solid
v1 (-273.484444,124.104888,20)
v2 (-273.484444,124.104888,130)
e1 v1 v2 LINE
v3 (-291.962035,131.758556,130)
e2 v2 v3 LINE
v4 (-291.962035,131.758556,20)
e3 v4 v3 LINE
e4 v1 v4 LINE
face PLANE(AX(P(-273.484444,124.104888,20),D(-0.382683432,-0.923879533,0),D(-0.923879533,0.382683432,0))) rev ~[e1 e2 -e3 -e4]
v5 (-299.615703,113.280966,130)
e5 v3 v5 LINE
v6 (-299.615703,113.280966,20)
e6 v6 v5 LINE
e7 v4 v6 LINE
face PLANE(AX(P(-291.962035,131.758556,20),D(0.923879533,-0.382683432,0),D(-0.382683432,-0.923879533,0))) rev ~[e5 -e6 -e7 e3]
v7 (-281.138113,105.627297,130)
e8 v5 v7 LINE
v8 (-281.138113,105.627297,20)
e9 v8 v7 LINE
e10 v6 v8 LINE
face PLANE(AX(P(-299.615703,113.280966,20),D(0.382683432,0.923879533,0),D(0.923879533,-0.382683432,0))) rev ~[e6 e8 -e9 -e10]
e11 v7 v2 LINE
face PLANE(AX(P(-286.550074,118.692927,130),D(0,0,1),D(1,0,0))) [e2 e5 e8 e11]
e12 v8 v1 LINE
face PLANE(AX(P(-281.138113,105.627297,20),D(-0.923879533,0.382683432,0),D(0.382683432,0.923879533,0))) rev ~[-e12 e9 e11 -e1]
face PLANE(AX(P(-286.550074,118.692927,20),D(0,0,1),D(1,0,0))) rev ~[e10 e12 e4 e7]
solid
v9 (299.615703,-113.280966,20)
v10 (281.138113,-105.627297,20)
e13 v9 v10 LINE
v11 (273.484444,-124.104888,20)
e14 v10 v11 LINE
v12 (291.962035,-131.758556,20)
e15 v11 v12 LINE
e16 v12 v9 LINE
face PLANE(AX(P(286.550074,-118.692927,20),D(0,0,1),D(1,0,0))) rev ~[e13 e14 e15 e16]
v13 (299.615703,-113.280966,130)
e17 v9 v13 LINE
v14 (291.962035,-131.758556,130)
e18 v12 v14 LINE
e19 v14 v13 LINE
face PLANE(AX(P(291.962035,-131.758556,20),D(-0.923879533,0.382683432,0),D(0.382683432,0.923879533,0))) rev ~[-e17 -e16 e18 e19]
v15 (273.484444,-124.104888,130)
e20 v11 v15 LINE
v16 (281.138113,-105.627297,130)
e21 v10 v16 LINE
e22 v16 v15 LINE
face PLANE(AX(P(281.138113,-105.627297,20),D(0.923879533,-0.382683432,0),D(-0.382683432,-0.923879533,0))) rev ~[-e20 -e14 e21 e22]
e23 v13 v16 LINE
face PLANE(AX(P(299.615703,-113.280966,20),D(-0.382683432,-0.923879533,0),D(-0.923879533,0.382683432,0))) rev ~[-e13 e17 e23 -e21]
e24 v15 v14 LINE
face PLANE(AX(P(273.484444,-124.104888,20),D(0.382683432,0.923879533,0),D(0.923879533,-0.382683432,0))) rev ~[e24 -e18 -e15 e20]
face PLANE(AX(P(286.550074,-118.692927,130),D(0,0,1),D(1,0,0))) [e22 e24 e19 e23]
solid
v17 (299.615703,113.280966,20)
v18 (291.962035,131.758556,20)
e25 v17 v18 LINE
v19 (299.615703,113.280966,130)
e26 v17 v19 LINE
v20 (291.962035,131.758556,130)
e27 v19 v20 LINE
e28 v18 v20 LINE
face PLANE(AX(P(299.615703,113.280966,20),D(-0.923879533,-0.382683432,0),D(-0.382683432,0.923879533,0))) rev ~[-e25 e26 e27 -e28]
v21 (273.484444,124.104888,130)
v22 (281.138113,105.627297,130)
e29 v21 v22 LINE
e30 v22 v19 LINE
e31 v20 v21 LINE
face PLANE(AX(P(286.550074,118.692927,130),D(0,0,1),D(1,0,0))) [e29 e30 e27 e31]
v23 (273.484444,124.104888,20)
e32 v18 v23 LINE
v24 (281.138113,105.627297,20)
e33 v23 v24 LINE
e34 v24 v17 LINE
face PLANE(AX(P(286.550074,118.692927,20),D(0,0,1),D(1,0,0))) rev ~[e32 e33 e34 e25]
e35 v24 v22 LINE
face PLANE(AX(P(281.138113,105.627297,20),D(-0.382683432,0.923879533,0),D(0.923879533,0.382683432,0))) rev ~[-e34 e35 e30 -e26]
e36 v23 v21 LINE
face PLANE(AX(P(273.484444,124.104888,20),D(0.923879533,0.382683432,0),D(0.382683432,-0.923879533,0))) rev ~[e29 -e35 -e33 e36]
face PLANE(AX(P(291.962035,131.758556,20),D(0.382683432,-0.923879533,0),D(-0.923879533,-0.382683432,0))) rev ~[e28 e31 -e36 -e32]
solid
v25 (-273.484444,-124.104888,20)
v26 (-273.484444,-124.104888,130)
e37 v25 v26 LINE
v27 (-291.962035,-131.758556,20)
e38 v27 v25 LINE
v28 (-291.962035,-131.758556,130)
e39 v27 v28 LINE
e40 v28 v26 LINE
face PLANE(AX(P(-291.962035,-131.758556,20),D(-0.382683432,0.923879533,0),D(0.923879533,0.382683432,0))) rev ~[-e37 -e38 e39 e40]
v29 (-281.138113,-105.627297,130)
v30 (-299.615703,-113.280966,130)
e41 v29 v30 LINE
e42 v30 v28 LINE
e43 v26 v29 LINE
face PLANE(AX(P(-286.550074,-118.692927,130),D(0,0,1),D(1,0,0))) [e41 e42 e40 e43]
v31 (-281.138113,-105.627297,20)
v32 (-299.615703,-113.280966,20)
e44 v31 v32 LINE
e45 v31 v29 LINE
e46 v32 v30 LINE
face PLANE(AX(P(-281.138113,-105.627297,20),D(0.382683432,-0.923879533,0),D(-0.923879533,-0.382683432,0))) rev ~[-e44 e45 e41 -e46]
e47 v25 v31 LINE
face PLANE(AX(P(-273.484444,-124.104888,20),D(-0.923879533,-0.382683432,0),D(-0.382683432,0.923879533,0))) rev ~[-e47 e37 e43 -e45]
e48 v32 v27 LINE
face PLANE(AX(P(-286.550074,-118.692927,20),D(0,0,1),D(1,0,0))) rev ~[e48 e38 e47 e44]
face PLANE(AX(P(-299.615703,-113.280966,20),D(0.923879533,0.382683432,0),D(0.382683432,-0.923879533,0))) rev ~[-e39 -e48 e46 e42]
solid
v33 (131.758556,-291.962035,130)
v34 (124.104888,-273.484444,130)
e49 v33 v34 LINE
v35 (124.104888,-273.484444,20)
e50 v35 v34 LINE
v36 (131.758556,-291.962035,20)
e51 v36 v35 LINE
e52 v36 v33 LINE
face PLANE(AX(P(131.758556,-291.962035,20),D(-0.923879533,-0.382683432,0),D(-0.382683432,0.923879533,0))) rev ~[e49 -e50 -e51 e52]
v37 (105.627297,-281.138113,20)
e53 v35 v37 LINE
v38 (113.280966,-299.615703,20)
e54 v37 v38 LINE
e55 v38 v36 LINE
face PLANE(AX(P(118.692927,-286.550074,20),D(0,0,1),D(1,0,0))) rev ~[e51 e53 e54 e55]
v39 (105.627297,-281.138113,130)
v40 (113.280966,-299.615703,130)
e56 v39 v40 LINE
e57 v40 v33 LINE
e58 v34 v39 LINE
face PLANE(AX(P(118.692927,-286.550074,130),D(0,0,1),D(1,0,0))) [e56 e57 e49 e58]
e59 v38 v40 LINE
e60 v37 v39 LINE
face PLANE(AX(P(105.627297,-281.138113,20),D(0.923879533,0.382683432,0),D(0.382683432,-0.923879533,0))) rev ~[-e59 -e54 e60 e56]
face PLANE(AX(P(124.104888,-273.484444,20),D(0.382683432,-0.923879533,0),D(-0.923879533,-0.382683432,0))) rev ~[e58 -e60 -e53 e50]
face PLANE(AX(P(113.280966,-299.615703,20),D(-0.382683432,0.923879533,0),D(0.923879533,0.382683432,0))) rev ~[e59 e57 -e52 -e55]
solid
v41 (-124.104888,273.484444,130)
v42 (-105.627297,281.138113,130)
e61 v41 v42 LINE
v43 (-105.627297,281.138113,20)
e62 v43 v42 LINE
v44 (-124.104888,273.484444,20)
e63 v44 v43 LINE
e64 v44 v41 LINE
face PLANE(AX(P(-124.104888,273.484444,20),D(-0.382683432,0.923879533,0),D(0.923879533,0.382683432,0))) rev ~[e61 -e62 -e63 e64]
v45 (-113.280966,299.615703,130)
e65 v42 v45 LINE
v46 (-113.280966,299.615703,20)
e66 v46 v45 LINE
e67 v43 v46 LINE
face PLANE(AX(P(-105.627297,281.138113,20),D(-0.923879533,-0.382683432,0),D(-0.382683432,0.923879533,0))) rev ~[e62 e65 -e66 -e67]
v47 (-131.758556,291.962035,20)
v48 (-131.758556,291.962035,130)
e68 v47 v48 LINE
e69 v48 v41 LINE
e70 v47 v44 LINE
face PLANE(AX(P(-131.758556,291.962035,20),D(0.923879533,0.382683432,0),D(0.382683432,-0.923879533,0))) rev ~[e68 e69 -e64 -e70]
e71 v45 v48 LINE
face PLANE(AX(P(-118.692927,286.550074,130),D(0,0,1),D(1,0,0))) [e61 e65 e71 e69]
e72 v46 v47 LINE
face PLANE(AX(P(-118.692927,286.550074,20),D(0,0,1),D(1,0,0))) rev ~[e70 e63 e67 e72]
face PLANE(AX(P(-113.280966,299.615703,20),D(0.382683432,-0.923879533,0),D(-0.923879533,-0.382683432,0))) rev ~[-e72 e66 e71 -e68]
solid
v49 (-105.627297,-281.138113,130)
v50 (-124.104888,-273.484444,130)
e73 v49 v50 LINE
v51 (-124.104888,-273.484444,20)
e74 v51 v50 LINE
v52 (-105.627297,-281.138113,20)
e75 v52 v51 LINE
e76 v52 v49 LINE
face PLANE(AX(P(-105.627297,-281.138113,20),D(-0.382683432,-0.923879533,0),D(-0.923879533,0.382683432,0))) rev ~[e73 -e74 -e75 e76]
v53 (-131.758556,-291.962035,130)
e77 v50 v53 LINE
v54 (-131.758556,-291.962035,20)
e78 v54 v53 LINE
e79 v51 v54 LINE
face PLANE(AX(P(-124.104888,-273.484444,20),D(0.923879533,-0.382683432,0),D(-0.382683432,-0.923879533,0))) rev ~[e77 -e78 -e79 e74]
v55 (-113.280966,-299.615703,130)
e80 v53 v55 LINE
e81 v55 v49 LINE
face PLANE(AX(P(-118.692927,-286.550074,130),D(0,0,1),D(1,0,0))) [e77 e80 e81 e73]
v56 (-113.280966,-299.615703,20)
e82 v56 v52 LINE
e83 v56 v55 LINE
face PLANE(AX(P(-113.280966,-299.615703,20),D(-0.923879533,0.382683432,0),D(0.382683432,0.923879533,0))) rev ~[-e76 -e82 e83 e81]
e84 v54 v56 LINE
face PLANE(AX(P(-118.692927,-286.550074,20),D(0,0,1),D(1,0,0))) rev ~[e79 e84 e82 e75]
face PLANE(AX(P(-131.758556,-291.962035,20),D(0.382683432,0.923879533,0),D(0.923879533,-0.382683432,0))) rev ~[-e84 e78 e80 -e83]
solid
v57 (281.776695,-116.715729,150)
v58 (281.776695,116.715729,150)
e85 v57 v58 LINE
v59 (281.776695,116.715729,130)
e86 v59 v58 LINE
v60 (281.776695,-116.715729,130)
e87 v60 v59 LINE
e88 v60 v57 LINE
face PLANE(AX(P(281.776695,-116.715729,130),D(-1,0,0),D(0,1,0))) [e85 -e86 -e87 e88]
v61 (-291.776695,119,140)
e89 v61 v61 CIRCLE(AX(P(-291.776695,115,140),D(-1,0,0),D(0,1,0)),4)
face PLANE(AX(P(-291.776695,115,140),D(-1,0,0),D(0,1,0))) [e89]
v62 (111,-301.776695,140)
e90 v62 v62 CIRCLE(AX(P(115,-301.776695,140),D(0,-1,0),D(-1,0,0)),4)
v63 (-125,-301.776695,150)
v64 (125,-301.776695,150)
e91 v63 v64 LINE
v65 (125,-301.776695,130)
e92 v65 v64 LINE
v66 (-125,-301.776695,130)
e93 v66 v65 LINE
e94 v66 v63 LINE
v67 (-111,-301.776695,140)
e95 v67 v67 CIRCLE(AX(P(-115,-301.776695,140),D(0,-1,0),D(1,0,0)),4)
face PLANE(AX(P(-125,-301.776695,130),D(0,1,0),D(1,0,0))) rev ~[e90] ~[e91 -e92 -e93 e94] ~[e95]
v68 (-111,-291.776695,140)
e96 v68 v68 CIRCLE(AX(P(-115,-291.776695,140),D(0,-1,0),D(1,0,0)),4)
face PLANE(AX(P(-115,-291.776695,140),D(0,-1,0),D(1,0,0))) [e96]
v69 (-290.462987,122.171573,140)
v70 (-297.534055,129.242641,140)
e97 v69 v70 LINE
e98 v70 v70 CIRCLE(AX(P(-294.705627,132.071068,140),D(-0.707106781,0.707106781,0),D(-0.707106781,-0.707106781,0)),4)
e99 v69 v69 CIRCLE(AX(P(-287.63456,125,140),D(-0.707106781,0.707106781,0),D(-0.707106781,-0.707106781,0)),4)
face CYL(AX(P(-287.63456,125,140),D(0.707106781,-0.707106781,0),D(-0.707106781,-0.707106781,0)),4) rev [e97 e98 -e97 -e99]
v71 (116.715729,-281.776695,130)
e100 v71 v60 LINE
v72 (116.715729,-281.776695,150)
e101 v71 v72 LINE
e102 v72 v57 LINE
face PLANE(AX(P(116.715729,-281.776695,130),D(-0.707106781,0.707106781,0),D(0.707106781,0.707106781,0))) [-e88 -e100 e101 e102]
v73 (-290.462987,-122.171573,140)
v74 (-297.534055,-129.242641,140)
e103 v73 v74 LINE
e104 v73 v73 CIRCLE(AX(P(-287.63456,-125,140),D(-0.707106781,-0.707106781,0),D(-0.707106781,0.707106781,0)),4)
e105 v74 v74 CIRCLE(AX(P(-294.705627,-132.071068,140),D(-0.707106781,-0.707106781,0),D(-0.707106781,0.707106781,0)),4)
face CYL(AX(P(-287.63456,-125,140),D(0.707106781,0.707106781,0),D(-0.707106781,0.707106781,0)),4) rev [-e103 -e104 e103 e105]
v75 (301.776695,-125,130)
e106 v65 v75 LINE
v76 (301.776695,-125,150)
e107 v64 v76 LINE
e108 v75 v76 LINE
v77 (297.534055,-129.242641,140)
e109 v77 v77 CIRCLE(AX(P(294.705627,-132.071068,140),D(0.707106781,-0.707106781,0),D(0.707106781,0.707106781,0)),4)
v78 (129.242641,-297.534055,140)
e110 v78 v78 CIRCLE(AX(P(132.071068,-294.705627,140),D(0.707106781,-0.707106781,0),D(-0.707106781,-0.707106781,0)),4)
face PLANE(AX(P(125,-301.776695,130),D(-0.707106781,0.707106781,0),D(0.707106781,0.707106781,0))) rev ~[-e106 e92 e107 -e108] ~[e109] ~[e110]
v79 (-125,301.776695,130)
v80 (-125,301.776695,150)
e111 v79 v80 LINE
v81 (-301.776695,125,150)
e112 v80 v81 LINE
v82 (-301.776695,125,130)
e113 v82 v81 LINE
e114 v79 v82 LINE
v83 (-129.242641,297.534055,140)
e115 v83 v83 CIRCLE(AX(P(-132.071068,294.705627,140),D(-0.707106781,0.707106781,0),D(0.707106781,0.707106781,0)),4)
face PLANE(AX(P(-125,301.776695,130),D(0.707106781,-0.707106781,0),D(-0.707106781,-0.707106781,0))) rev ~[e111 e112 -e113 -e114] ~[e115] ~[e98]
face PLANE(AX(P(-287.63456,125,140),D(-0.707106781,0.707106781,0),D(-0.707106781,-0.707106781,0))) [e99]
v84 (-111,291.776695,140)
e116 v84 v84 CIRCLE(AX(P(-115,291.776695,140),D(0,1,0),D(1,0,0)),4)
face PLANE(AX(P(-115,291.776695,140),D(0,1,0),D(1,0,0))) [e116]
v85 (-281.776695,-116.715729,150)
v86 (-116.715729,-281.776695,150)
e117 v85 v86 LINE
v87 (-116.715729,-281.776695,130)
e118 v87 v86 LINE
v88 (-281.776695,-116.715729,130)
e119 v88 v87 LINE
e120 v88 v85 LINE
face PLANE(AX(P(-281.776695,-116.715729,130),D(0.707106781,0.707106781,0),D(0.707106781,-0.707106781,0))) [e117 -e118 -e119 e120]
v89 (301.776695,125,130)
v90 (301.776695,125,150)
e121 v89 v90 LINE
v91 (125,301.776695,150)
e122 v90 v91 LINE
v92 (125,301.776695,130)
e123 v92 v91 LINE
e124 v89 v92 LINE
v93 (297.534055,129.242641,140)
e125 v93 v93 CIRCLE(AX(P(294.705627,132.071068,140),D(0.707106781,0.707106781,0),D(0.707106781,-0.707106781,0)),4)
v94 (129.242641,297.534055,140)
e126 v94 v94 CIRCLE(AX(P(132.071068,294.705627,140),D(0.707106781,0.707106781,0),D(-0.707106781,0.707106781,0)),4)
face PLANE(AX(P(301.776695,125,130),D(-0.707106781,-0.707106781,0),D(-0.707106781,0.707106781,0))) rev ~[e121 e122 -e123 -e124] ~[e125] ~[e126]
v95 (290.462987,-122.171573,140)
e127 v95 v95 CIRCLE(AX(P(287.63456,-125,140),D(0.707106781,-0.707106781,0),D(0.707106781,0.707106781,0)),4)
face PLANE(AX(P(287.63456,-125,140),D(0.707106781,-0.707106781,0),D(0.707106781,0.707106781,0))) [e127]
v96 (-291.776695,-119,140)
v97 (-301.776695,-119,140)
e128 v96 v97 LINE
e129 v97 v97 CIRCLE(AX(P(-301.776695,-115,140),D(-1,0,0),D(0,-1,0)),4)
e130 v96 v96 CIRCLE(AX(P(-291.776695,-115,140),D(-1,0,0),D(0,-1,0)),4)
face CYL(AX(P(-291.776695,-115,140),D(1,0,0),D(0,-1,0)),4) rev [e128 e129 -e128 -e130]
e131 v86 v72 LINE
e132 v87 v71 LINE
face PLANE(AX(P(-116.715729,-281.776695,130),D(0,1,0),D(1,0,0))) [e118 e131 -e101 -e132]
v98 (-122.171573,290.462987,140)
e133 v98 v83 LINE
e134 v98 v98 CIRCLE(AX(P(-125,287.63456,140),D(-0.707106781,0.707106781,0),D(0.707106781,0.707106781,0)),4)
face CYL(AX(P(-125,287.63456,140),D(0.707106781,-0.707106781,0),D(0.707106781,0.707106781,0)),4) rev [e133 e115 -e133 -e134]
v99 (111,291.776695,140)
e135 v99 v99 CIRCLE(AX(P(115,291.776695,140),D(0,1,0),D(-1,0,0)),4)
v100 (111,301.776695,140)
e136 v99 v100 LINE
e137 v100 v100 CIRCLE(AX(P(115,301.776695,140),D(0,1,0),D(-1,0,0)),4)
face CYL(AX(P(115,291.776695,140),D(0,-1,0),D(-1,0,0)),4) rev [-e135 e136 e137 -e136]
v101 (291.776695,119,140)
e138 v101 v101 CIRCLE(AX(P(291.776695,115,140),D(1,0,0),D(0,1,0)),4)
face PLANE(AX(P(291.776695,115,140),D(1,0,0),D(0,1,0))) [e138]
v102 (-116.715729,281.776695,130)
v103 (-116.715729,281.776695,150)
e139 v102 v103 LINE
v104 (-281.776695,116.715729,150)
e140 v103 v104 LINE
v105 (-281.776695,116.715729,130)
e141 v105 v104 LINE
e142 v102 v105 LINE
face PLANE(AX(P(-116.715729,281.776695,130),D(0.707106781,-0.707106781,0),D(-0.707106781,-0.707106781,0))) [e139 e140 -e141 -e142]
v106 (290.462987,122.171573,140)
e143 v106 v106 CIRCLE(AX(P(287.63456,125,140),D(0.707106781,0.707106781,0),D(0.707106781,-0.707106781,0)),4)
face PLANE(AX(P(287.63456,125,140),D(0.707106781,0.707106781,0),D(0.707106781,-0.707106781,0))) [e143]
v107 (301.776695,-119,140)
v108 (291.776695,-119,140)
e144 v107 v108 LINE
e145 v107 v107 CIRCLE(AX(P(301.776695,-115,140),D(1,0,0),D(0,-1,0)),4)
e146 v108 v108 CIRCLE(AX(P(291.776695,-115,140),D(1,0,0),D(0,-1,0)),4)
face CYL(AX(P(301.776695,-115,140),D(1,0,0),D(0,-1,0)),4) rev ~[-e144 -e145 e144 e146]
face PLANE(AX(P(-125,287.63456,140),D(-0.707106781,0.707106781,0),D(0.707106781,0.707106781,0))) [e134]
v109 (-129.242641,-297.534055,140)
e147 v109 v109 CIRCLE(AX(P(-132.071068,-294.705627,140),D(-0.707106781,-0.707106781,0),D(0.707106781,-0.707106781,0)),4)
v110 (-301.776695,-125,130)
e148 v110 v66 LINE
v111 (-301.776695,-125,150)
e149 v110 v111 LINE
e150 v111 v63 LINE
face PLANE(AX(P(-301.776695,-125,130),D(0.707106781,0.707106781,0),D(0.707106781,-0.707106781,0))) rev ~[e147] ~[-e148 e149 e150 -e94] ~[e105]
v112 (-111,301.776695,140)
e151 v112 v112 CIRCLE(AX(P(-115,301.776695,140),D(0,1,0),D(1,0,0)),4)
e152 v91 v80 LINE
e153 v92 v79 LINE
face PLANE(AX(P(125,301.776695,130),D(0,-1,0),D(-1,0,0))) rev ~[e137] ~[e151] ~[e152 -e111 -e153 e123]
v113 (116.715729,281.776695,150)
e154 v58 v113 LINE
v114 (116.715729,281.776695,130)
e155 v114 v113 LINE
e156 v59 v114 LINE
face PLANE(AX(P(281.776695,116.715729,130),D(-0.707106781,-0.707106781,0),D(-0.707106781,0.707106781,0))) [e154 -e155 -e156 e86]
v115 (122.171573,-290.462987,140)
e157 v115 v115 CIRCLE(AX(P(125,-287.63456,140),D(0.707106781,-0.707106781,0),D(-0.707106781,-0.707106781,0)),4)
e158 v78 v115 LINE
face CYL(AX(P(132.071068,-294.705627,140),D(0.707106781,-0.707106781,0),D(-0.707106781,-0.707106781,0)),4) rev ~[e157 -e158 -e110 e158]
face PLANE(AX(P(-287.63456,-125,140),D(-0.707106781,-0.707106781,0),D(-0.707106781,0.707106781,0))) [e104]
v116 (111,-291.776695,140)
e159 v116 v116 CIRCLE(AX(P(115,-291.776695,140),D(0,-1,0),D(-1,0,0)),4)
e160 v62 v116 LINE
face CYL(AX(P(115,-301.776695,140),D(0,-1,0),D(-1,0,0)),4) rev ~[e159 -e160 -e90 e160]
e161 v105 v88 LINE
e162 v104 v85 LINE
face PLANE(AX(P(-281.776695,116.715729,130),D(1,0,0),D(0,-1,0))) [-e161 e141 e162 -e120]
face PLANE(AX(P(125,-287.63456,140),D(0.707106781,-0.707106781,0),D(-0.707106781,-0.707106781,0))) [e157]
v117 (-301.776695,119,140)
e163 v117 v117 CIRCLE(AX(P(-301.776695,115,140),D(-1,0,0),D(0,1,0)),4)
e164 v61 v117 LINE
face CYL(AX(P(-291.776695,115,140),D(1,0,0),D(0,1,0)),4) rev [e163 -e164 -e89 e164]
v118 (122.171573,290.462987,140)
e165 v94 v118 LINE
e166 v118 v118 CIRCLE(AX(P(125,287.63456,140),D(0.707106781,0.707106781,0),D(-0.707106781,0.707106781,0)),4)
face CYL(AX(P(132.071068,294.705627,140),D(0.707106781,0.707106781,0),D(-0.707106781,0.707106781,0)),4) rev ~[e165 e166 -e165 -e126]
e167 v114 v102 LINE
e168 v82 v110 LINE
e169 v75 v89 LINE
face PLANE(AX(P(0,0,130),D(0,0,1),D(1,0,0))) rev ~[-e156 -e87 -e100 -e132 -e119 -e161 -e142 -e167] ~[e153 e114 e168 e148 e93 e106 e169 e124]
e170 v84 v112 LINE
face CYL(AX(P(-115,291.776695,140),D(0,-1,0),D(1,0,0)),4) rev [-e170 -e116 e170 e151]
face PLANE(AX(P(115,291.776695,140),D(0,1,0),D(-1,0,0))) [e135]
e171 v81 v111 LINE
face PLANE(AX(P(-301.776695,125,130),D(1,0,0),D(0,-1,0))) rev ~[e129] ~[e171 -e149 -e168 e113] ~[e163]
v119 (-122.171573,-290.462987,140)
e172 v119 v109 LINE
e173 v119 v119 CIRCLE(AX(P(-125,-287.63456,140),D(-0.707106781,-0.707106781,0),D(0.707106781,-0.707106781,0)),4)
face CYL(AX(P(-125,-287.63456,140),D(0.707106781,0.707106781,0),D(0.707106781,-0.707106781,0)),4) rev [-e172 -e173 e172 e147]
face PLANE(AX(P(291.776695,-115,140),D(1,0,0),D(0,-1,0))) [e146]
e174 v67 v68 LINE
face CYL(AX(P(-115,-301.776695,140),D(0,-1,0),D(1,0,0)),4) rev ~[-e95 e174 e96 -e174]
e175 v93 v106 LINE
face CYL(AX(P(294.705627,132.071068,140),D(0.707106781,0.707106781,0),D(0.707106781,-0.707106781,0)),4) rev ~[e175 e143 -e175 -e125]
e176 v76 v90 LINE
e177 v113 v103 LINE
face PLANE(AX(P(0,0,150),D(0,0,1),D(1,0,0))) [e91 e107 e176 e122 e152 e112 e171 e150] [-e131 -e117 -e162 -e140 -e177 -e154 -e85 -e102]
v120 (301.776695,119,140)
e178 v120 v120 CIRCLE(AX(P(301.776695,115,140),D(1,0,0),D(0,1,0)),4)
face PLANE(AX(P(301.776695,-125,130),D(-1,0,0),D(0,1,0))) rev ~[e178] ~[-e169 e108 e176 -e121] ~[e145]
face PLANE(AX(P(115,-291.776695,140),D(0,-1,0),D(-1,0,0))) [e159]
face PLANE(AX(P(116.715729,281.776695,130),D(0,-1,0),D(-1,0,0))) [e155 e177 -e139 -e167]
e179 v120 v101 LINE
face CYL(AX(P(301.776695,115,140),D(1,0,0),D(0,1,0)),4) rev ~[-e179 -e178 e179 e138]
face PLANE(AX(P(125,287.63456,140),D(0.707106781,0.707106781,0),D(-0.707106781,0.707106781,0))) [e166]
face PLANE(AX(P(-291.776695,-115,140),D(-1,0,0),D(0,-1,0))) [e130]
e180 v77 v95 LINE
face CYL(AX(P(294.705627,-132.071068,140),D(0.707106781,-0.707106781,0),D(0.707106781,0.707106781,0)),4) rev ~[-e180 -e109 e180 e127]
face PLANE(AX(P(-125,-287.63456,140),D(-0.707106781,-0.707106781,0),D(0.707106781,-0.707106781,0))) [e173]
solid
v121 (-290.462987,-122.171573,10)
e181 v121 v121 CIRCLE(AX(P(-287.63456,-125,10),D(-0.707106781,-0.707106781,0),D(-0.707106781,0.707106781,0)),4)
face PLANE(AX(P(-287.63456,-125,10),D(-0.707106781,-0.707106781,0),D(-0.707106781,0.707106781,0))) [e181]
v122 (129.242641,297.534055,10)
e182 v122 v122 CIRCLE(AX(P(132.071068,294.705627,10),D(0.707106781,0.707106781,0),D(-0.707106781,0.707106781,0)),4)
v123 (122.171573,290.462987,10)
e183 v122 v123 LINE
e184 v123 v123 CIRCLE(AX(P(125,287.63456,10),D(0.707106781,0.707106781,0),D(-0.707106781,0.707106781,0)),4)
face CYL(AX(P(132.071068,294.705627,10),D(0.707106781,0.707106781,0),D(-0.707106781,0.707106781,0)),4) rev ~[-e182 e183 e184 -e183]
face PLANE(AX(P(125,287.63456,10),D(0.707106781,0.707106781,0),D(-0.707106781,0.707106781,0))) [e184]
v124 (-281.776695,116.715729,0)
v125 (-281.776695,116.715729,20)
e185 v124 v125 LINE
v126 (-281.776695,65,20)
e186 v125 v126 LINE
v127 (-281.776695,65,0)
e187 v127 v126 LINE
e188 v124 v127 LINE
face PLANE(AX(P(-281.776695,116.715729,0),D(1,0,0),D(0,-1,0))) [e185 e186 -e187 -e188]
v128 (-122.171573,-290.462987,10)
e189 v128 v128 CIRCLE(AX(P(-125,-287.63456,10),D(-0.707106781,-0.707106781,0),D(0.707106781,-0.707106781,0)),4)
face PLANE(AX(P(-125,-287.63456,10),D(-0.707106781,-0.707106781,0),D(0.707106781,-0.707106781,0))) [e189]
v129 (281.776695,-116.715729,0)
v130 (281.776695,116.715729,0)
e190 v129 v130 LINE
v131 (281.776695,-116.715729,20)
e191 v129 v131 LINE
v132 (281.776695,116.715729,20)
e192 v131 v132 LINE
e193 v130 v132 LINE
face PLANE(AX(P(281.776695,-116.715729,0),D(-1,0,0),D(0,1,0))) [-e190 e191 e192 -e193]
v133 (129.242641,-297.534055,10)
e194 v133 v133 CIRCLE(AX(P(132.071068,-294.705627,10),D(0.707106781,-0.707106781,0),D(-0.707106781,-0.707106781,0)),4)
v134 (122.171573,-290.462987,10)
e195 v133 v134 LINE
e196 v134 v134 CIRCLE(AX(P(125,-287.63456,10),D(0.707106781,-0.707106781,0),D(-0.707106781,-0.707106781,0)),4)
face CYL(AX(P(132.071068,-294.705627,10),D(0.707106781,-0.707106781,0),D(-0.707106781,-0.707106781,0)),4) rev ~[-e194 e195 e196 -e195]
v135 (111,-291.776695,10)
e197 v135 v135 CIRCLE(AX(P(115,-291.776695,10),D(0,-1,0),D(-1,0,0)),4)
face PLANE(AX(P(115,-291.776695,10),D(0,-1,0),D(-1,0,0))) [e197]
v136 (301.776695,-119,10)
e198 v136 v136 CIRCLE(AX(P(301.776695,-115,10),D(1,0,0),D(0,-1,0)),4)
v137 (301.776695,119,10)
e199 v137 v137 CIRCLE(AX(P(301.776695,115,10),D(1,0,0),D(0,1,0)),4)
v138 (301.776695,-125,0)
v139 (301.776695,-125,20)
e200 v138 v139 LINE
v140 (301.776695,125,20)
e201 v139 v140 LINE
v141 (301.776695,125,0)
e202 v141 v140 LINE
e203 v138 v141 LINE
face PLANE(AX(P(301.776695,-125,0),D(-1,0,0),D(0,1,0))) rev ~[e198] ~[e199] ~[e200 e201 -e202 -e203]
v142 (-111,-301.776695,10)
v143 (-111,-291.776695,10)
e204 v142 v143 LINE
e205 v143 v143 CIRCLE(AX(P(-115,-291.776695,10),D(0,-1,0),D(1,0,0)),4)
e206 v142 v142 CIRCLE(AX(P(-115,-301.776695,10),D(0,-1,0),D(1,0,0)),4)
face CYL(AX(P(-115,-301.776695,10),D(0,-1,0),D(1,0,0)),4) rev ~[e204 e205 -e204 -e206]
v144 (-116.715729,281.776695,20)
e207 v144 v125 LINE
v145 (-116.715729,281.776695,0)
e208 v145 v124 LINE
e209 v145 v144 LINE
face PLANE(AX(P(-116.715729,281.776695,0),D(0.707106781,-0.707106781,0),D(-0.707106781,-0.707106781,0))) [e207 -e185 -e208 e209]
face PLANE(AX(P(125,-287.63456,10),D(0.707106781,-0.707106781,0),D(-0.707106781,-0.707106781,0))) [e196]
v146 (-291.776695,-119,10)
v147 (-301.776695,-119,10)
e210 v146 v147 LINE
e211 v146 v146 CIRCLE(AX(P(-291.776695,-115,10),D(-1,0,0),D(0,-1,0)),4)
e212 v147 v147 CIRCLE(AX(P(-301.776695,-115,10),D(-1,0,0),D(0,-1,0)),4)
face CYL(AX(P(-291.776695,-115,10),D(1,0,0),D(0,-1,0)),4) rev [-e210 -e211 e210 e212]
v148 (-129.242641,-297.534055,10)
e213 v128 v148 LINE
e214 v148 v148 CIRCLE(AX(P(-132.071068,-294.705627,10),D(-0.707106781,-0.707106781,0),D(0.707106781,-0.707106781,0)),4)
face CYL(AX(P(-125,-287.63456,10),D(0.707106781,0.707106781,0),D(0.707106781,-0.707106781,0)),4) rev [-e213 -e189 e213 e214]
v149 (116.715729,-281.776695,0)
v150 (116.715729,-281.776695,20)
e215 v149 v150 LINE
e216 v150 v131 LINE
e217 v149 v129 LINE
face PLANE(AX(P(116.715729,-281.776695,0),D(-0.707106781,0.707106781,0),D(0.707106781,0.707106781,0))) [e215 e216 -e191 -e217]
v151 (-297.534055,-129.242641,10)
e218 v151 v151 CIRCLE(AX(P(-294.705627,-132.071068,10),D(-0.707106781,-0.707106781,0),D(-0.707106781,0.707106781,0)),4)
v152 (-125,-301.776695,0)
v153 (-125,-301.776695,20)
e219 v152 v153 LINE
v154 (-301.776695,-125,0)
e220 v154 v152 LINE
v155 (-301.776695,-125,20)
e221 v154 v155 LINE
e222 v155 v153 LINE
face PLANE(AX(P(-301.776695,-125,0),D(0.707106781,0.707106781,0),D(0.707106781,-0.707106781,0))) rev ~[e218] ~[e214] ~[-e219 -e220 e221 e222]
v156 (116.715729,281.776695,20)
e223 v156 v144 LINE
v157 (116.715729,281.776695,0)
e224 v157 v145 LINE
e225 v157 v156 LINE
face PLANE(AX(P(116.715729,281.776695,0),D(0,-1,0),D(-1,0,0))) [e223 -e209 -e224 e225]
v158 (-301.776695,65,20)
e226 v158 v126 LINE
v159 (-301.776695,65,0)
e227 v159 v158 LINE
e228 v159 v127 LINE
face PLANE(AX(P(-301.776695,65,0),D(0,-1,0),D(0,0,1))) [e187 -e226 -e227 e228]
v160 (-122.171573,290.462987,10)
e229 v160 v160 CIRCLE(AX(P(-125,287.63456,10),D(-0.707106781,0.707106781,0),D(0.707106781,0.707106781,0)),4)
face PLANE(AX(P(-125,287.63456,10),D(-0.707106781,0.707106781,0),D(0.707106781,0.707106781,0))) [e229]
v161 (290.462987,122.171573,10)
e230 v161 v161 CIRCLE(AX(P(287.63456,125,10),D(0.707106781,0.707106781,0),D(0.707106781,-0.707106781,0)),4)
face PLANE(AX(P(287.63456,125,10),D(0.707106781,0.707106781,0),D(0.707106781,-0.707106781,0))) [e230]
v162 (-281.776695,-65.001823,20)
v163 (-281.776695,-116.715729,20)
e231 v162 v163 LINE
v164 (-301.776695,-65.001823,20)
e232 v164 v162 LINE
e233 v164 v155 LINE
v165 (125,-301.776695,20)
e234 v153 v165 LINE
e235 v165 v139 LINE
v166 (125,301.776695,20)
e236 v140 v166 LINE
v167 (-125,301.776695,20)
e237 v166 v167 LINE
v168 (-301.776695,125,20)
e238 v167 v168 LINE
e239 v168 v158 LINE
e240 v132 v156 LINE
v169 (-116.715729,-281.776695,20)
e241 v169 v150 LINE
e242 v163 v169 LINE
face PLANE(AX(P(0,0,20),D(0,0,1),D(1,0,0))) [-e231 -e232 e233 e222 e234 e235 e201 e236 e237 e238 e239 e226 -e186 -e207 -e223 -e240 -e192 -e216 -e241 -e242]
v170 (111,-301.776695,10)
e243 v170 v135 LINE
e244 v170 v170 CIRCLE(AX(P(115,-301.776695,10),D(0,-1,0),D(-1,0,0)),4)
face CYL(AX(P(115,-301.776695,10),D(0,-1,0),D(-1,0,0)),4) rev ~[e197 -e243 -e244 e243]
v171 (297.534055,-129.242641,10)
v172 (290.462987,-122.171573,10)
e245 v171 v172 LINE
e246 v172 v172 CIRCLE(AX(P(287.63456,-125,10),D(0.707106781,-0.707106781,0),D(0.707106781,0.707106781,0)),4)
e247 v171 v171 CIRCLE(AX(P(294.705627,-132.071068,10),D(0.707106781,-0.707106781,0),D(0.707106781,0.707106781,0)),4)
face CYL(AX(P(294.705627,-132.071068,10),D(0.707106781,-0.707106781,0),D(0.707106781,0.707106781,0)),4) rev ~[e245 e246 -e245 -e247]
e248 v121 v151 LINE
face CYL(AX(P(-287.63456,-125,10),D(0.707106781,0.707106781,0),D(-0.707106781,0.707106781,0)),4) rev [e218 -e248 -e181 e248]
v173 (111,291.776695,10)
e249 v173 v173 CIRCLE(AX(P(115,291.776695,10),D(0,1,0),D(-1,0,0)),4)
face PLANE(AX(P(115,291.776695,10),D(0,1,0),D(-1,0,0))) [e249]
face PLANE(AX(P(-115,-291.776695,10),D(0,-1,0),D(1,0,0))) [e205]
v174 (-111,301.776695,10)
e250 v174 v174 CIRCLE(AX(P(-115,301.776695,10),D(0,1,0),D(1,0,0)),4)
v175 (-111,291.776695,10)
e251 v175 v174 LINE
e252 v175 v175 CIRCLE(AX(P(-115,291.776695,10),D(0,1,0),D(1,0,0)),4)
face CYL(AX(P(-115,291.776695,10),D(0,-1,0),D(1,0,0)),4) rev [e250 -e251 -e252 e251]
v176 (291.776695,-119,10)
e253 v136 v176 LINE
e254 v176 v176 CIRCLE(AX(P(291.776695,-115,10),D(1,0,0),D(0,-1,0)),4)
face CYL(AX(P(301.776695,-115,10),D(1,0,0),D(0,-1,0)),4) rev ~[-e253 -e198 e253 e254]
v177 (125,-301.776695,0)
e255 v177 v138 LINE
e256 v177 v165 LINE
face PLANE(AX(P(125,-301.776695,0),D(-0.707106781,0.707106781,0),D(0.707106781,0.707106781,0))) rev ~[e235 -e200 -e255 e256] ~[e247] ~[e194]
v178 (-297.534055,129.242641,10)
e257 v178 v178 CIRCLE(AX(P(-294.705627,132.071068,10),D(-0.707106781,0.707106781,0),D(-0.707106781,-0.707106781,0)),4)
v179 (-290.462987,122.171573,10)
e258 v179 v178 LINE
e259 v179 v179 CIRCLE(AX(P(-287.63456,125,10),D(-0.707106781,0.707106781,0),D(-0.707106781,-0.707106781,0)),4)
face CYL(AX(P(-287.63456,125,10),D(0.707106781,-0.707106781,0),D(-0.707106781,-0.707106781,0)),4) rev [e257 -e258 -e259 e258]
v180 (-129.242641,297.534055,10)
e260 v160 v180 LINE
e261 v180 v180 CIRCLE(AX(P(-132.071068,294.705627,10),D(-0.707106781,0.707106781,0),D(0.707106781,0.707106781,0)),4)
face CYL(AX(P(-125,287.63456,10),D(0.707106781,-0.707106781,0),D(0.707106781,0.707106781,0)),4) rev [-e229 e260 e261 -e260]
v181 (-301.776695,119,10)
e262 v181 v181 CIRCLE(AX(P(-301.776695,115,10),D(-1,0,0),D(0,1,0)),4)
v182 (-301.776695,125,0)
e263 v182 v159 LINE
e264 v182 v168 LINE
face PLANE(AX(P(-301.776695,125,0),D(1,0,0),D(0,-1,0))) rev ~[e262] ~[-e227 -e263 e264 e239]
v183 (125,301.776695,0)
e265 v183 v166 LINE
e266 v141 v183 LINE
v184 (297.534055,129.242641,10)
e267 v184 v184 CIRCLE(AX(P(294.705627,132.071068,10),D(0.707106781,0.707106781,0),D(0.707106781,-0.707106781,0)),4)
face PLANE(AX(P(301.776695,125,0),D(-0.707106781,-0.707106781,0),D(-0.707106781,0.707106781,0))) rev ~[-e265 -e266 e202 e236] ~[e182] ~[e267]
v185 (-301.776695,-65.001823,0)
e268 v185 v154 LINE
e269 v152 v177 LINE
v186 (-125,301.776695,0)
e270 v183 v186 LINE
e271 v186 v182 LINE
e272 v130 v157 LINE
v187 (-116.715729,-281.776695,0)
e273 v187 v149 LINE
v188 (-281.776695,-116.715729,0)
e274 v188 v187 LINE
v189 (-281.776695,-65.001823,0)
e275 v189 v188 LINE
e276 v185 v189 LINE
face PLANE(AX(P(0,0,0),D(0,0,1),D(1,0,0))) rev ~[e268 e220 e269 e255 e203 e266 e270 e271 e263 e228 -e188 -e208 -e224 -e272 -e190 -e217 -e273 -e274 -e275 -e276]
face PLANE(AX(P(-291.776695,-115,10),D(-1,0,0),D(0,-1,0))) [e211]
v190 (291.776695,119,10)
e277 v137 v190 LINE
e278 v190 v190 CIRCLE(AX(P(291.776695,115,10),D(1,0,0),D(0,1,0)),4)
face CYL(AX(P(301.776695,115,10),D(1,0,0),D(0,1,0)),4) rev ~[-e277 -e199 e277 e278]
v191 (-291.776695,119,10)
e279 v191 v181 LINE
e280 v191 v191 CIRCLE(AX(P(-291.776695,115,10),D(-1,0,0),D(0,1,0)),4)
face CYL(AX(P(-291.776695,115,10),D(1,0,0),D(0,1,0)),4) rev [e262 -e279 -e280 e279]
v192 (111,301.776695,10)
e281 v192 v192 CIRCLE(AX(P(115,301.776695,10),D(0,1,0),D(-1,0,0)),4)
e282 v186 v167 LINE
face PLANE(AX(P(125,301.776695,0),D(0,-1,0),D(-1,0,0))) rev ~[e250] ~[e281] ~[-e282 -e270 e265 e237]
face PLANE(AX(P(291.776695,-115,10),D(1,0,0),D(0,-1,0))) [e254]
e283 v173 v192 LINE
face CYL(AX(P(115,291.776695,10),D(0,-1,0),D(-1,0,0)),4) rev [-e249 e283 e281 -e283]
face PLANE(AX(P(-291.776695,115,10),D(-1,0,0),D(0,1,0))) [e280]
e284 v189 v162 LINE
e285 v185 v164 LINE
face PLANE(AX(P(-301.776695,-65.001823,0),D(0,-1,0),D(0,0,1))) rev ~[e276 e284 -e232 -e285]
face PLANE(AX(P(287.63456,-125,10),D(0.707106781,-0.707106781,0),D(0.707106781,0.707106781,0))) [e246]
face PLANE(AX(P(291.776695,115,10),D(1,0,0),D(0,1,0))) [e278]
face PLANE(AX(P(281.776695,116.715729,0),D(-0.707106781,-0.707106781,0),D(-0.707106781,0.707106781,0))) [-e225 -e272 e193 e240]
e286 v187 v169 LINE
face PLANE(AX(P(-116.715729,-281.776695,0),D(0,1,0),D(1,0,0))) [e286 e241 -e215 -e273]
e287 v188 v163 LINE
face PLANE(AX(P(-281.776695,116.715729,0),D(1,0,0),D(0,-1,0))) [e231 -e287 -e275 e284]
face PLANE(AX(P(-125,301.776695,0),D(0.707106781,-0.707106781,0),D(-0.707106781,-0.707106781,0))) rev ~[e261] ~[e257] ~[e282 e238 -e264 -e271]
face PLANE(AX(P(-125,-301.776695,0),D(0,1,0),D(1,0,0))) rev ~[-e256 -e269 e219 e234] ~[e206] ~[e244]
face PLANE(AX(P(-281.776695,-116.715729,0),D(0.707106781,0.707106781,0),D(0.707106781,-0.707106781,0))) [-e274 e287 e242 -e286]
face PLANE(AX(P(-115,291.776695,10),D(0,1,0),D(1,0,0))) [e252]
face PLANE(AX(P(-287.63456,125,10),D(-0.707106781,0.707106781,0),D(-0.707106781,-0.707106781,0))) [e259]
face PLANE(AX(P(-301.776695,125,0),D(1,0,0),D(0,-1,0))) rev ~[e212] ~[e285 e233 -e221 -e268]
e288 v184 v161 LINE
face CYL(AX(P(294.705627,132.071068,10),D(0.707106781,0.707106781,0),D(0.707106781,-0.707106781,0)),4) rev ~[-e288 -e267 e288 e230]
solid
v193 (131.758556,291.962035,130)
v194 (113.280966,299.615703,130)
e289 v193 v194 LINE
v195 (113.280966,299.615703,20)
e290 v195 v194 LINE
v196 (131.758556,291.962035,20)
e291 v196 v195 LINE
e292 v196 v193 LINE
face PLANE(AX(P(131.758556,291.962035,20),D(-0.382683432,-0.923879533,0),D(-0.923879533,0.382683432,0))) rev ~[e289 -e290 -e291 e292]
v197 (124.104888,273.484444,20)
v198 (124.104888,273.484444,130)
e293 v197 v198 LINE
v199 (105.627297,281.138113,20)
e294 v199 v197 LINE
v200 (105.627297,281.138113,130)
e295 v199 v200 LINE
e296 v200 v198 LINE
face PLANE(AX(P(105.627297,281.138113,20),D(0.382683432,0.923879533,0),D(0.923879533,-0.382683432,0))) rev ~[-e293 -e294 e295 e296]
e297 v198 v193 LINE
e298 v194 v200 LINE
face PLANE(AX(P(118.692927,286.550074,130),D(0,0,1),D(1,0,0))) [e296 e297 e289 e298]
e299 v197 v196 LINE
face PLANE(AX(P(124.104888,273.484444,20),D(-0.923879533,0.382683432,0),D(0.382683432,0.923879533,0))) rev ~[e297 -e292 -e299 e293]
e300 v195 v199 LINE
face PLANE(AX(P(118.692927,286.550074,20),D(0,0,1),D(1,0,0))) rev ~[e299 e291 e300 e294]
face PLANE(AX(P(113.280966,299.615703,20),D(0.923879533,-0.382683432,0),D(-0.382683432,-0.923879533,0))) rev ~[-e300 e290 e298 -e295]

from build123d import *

# Parameters (mm, degrees)
BOSS_EXTRUDE1_DEPTH   = 20
BOSS_EXTRUDE3_DEPTH   = 110
BOSS_EXTRUDE3_2_DEPTH = 110
BOSS_EXTRUDE3_3_DEPTH = 110
BOSS_EXTRUDE3_4_DEPTH = 110
BOSS_EXTRUDE3_5_DEPTH = 110
BOSS_EXTRUDE3_6_DEPTH = 110
BOSS_EXTRUDE3_7_DEPTH = 110
BOSS_EXTRUDE3_8_DEPTH = 110
BOSS_EXTRUDE4_DEPTH   = 20
SKETCH19_R            = 4
CUT_EXTRUDE1_DEPTH    = 10
SKETCH29_R            = 4
CUT_EXTRUDE2_DEPTH    = 10
SKETCH30_R            = 4
CUT_EXTRUDE3_DEPTH    = 10
SKETCH31_R            = 4
CUT_EXTRUDE4_DEPTH    = 10
CUT_EXTRUDE5_START    = -10
SKETCH32_R            = 4
CUT_EXTRUDE5_DEPTH    = 10
CUT_EXTRUDE6_START    = -10
SKETCH33_R            = 4
CUT_EXTRUDE6_DEPTH    = 10
CUT_EXTRUDE7_START    = -10
SKETCH34_R            = 4
CUT_EXTRUDE7_DEPTH    = 10
CUT_EXTRUDE8_START    = -10
SKETCH35_R            = 4
CUT_EXTRUDE8_DEPTH    = 10
SKETCH37_W            = 20
SKETCH37_H            = 130.001822869
CUT_EXTRUDE11_DEPTH   = 20


with BuildPart() as part:
    # Sketch1 → Boss-Extrude1 (new body)
    with BuildSketch(Plane.XY):
        Polygon((301.776695297, 125), (125, 301.776695297), (-125, 301.776695297), (-301.776695297, 125), (-301.776695297, -125), (-125, -301.776695297), (125, -301.776695297), (301.776695297, -125), align=None)
        Polygon((-281.776695297, 116.715728753), (-281.776695297, -116.715728753), (-116.715728753, -281.776695297), (116.715728753, -281.776695297), (281.776695297, -116.715728753), (281.776695297, 116.715728753), (116.715728753, 281.776695297), (-116.715728753, 281.776695297), align=None, mode=Mode.SUBTRACT)
    extrude(amount=BOSS_EXTRUDE1_DEPTH)


with BuildPart() as body_2:
    # Sketch17 → Boss-Extrude3 (new body)
    with BuildSketch(Plane.XY.offset(20)):
        Polygon((-124.104887748, 273.484443861), (-105.627297098, 281.138112508), (-113.280965745, 299.615703158), (-131.758556395, 291.962034511), align=None)
    extrude(amount=BOSS_EXTRUDE3_DEPTH)


with BuildPart() as body_3:
    # Sketch17 → Boss-Extrude3 2 (new body)
    with BuildSketch(Plane.XY.offset(20)):
        Polygon((105.627297098, 281.138112508), (124.104887748, 273.484443861), (131.758556395, 291.962034511), (113.280965745, 299.615703158), align=None)
    extrude(amount=BOSS_EXTRUDE3_2_DEPTH)


with BuildPart() as body_4:
    # Sketch17 → Boss-Extrude3 3 (new body)
    with BuildSketch(Plane.XY.offset(20)):
        Polygon((273.484443861, 124.104887748), (281.138112508, 105.627297098), (299.615703158, 113.280965745), (291.962034511, 131.758556395), align=None)
    extrude(amount=BOSS_EXTRUDE3_3_DEPTH)


with BuildPart() as body_5:
    # Sketch17 → Boss-Extrude3 4 (new body)
    with BuildSketch(Plane.XY.offset(20)):
        Polygon((281.138112508, -105.627297098), (273.484443861, -124.104887748), (291.962034511, -131.758556395), (299.615703158, -113.280965745), align=None)
    extrude(amount=BOSS_EXTRUDE3_4_DEPTH)


with BuildPart() as body_6:
    # Sketch17 → Boss-Extrude3 5 (new body)
    with BuildSketch(Plane.XY.offset(20)):
        Polygon((124.104887748, -273.484443861), (105.627297098, -281.138112508), (113.280965745, -299.615703158), (131.758556395, -291.962034511), align=None)
    extrude(amount=BOSS_EXTRUDE3_5_DEPTH)


with BuildPart() as body_7:
    # Sketch17 → Boss-Extrude3 6 (new body)
    with BuildSketch(Plane.XY.offset(20)):
        Polygon((-105.627297098, -281.138112508), (-124.104887748, -273.484443861), (-131.758556395, -291.962034511), (-113.280965745, -299.615703158), align=None)
    extrude(amount=BOSS_EXTRUDE3_6_DEPTH)


with BuildPart() as body_8:
    # Sketch17 → Boss-Extrude3 7 (new body)
    with BuildSketch(Plane.XY.offset(20)):
        Polygon((-273.484443861, -124.104887748), (-281.138112508, -105.627297098), (-299.615703158, -113.280965745), (-291.962034511, -131.758556395), align=None)
    extrude(amount=BOSS_EXTRUDE3_7_DEPTH)


with BuildPart() as body_9:
    # Sketch17 → Boss-Extrude3 8 (new body)
    with BuildSketch(Plane.XY.offset(20)):
        Polygon((-281.138112508, 105.627297098), (-273.484443861, 124.104887748), (-291.962034511, 131.758556395), (-299.615703158, 113.280965745), align=None)
    extrude(amount=BOSS_EXTRUDE3_8_DEPTH)


with BuildPart() as body_10:
    # Sketch18 → Boss-Extrude4 (new body)
    with BuildSketch(Plane.XY.offset(130)):
        Polygon((-301.776695297, 125), (-301.776695297, -125), (-125, -301.776695297), (125, -301.776695297), (301.776695297, -125), (301.776695297, 125), (125, 301.776695297), (-125, 301.776695297), align=None)
        Polygon((-281.776695297, 116.715728753), (-281.776695297, -116.715728753), (-116.715728753, -281.776695297), (116.715728753, -281.776695297), (281.776695297, -116.715728753), (281.776695297, 116.715728753), (116.715728753, 281.776695297), (-116.715728753, 281.776695297), align=None, mode=Mode.SUBTRACT)
    extrude(amount=BOSS_EXTRUDE4_DEPTH)


with BuildPart() as cut_extrude1_tool:
    # Sketch19 → Cut-Extrude1 (new body)
    with BuildSketch(Plane.XZ.offset(301.776695297)):
        with Locations((-115, 140)):
            Circle(SKETCH19_R)
        with Locations((-115, 10)):
            Circle(SKETCH19_R)
        with Locations(Location((115, 140, 0), (0, 0, 180))):
            Circle(SKETCH19_R)
        with Locations(Location((115, 10, 0), (0, 0, 180))):
            Circle(SKETCH19_R)
    extrude(amount=-CUT_EXTRUDE1_DEPTH)


with BuildPart() as part_1:
    add(part.part)

    # Cut-Extrude1: cut by cut_extrude1_tool
    add(cut_extrude1_tool.part, mode=Mode.SUBTRACT)


with BuildPart() as body_10_1:
    add(body_10.part)

    # Cut-Extrude1: cut by cut_extrude1_tool
    add(cut_extrude1_tool.part, mode=Mode.SUBTRACT)


with BuildPart() as cut_extrude2_tool:
    # Sketch29 → Cut-Extrude2 (new body)
    with BuildSketch(Plane(origin=(213.388347648, -213.388347648, 0), x_dir=(0, 0, -1), z_dir=(0.7071067811865477, -0.7071067811865474, 0))):
        with Locations(Location((-140, 115, 0), (0, 0, 90))):
            Circle(SKETCH29_R)
        with Locations(Location((-10, 115, 0), (0, 0, 90))):
            Circle(SKETCH29_R)
        with Locations(Location((-10, -115, 0), (0, 0, 270))):
            Circle(SKETCH29_R)
        with Locations(Location((-140, -115, 0), (0, 0, 270))):
            Circle(SKETCH29_R)
    extrude(amount=-CUT_EXTRUDE2_DEPTH)


with BuildPart() as part_2:
    add(part_1.part)

    # Cut-Extrude2: cut by cut_extrude2_tool
    add(cut_extrude2_tool.part, mode=Mode.SUBTRACT)


with BuildPart() as body_10_2:
    add(body_10_1.part)

    # Cut-Extrude2: cut by cut_extrude2_tool
    add(cut_extrude2_tool.part, mode=Mode.SUBTRACT)


with BuildPart() as cut_extrude3_tool:
    # Sketch30 → Cut-Extrude3 (new body)
    with BuildSketch(Plane(origin=(301.776695297, 0, 0), x_dir=(0, 0, -1), z_dir=(1, 0, 0))):
        with Locations(Location((-140, 115, 0), (0, 0, 90))):
            Circle(SKETCH30_R)
        with Locations(Location((-10, 115, 0), (0, 0, 90))):
            Circle(SKETCH30_R)
        with Locations(Location((-10, -115, 0), (0, 0, 270))):
            Circle(SKETCH30_R)
        with Locations(Location((-140, -115, 0), (0, 0, 270))):
            Circle(SKETCH30_R)
    extrude(amount=-CUT_EXTRUDE3_DEPTH)


with BuildPart() as part_3:
    add(part_2.part)

    # Cut-Extrude3: cut by cut_extrude3_tool
    add(cut_extrude3_tool.part, mode=Mode.SUBTRACT)


with BuildPart() as body_10_3:
    add(body_10_2.part)

    # Cut-Extrude3: cut by cut_extrude3_tool
    add(cut_extrude3_tool.part, mode=Mode.SUBTRACT)


with BuildPart() as cut_extrude4_tool:
    # Sketch31 → Cut-Extrude4 (new body)
    with BuildSketch(Plane(origin=(213.388347648, 213.388347648, 0), x_dir=(0, 0, -1), z_dir=(0.7071067811865476, 0.7071067811865476, 0))):
        with Locations(Location((-140, 115, 0), (0, 0, 90))):
            Circle(SKETCH31_R)
        with Locations(Location((-10, 115, 0), (0, 0, 90))):
            Circle(SKETCH31_R)
        with Locations(Location((-10, -115, 0), (0, 0, 270))):
            Circle(SKETCH31_R)
        with Locations(Location((-140, -115, 0), (0, 0, 270))):
            Circle(SKETCH31_R)
    extrude(amount=-CUT_EXTRUDE4_DEPTH)


with BuildPart() as part_4:
    add(part_3.part)

    # Cut-Extrude4: cut by cut_extrude4_tool
    add(cut_extrude4_tool.part, mode=Mode.SUBTRACT)


with BuildPart() as body_10_4:
    add(body_10_3.part)

    # Cut-Extrude4: cut by cut_extrude4_tool
    add(cut_extrude4_tool.part, mode=Mode.SUBTRACT)


with BuildPart() as cut_extrude5_tool:
    # Sketch32 → Cut-Extrude5 (new body)
    with BuildSketch(Plane(origin=(0, 301.776695297, 0), x_dir=(1, 0, 0), z_dir=(0, 1, 0)).offset(CUT_EXTRUDE5_START)):
        with Locations((-115, -10)):
            Circle(SKETCH32_R)
        with Locations((-115, -140)):
            Circle(SKETCH32_R)
        with Locations(Location((115, -140, 0), (0, 0, 180))):
            Circle(SKETCH32_R)
        with Locations(Location((115, -10, 0), (0, 0, 180))):
            Circle(SKETCH32_R)
    extrude(amount=CUT_EXTRUDE5_DEPTH)


with BuildPart() as part_5:
    add(part_4.part)

    # Cut-Extrude5: cut by cut_extrude5_tool
    add(cut_extrude5_tool.part, mode=Mode.SUBTRACT)


with BuildPart() as body_10_5:
    add(body_10_4.part)

    # Cut-Extrude5: cut by cut_extrude5_tool
    add(cut_extrude5_tool.part, mode=Mode.SUBTRACT)


with BuildPart() as cut_extrude6_tool:
    # Sketch33 → Cut-Extrude6 (new body)
    with BuildSketch(Plane(origin=(-213.388347648, 213.388347648, 0), x_dir=(0, 0, 1), z_dir=(-0.7071067811865476, 0.7071067811865475, 0)).offset(CUT_EXTRUDE6_START)):
        with Locations(Location((10, 115, 0), (0, 0, 90))):
            Circle(SKETCH33_R)
        with Locations(Location((140, 115, 0), (0, 0, 90))):
            Circle(SKETCH33_R)
        with Locations(Location((140, -115, 0), (0, 0, 270))):
            Circle(SKETCH33_R)
        with Locations(Location((10, -115, 0), (0, 0, 270))):
            Circle(SKETCH33_R)
    extrude(amount=CUT_EXTRUDE6_DEPTH)


with BuildPart() as part_6:
    add(part_5.part)

    # Cut-Extrude6: cut by cut_extrude6_tool
    add(cut_extrude6_tool.part, mode=Mode.SUBTRACT)


with BuildPart() as body_10_6:
    add(body_10_5.part)

    # Cut-Extrude6: cut by cut_extrude6_tool
    add(cut_extrude6_tool.part, mode=Mode.SUBTRACT)


with BuildPart() as cut_extrude7_tool:
    # Sketch34 → Cut-Extrude7 (new body)
    with BuildSketch(Plane.ZY.offset(301.776695297).offset(CUT_EXTRUDE7_START)):
        with Locations(Location((10, 115, 0), (0, 0, 90))):
            Circle(SKETCH34_R)
        with Locations(Location((140, 115, 0), (0, 0, 90))):
            Circle(SKETCH34_R)
        with Locations(Location((140, -115, 0), (0, 0, 270))):
            Circle(SKETCH34_R)
        with Locations(Location((10, -115, 0), (0, 0, 270))):
            Circle(SKETCH34_R)
    extrude(amount=CUT_EXTRUDE7_DEPTH)


with BuildPart() as part_7:
    add(part_6.part)

    # Cut-Extrude7: cut by cut_extrude7_tool
    add(cut_extrude7_tool.part, mode=Mode.SUBTRACT)


with BuildPart() as body_10_7:
    add(body_10_6.part)

    # Cut-Extrude7: cut by cut_extrude7_tool
    add(cut_extrude7_tool.part, mode=Mode.SUBTRACT)


with BuildPart() as cut_extrude8_tool:
    # Sketch35 → Cut-Extrude8 (new body)
    with BuildSketch(Plane(origin=(-213.388347648, -213.388347648, 0), x_dir=(0, 0, 1), z_dir=(-0.7071067811865476, -0.7071067811865475, 0)).offset(CUT_EXTRUDE8_START)):
        with Locations(Location((10, 115, 0), (0, 0, 90))):
            Circle(SKETCH35_R)
        with Locations(Location((140, 115, 0), (0, 0, 90))):
            Circle(SKETCH35_R)
        with Locations(Location((140, -115, 0), (0, 0, 270))):
            Circle(SKETCH35_R)
        with Locations(Location((10, -115, 0), (0, 0, 270))):
            Circle(SKETCH35_R)
    extrude(amount=CUT_EXTRUDE8_DEPTH)


with BuildPart() as part_8:
    add(part_7.part)

    # Cut-Extrude8: cut by cut_extrude8_tool
    add(cut_extrude8_tool.part, mode=Mode.SUBTRACT)

    # Sketch37 → Cut-Extrude11 (cut)
    with BuildSketch(Plane.ZY.offset(301.776695297)):
        with Locations((10, -0.000911435)):
            Rectangle(SKETCH37_W, SKETCH37_H)
    extrude(amount=-CUT_EXTRUDE11_DEPTH, mode=Mode.SUBTRACT)


with BuildPart() as body_10_8:
    add(body_10_7.part)

    # Cut-Extrude8: cut by cut_extrude8_tool
    add(cut_extrude8_tool.part, mode=Mode.SUBTRACT)


solid = Compound([body_2.part, body_3.part, body_4.part, body_5.part, body_6.part, body_7.part, body_8.part, body_9.part, part_8.part, body_10_8.part])
